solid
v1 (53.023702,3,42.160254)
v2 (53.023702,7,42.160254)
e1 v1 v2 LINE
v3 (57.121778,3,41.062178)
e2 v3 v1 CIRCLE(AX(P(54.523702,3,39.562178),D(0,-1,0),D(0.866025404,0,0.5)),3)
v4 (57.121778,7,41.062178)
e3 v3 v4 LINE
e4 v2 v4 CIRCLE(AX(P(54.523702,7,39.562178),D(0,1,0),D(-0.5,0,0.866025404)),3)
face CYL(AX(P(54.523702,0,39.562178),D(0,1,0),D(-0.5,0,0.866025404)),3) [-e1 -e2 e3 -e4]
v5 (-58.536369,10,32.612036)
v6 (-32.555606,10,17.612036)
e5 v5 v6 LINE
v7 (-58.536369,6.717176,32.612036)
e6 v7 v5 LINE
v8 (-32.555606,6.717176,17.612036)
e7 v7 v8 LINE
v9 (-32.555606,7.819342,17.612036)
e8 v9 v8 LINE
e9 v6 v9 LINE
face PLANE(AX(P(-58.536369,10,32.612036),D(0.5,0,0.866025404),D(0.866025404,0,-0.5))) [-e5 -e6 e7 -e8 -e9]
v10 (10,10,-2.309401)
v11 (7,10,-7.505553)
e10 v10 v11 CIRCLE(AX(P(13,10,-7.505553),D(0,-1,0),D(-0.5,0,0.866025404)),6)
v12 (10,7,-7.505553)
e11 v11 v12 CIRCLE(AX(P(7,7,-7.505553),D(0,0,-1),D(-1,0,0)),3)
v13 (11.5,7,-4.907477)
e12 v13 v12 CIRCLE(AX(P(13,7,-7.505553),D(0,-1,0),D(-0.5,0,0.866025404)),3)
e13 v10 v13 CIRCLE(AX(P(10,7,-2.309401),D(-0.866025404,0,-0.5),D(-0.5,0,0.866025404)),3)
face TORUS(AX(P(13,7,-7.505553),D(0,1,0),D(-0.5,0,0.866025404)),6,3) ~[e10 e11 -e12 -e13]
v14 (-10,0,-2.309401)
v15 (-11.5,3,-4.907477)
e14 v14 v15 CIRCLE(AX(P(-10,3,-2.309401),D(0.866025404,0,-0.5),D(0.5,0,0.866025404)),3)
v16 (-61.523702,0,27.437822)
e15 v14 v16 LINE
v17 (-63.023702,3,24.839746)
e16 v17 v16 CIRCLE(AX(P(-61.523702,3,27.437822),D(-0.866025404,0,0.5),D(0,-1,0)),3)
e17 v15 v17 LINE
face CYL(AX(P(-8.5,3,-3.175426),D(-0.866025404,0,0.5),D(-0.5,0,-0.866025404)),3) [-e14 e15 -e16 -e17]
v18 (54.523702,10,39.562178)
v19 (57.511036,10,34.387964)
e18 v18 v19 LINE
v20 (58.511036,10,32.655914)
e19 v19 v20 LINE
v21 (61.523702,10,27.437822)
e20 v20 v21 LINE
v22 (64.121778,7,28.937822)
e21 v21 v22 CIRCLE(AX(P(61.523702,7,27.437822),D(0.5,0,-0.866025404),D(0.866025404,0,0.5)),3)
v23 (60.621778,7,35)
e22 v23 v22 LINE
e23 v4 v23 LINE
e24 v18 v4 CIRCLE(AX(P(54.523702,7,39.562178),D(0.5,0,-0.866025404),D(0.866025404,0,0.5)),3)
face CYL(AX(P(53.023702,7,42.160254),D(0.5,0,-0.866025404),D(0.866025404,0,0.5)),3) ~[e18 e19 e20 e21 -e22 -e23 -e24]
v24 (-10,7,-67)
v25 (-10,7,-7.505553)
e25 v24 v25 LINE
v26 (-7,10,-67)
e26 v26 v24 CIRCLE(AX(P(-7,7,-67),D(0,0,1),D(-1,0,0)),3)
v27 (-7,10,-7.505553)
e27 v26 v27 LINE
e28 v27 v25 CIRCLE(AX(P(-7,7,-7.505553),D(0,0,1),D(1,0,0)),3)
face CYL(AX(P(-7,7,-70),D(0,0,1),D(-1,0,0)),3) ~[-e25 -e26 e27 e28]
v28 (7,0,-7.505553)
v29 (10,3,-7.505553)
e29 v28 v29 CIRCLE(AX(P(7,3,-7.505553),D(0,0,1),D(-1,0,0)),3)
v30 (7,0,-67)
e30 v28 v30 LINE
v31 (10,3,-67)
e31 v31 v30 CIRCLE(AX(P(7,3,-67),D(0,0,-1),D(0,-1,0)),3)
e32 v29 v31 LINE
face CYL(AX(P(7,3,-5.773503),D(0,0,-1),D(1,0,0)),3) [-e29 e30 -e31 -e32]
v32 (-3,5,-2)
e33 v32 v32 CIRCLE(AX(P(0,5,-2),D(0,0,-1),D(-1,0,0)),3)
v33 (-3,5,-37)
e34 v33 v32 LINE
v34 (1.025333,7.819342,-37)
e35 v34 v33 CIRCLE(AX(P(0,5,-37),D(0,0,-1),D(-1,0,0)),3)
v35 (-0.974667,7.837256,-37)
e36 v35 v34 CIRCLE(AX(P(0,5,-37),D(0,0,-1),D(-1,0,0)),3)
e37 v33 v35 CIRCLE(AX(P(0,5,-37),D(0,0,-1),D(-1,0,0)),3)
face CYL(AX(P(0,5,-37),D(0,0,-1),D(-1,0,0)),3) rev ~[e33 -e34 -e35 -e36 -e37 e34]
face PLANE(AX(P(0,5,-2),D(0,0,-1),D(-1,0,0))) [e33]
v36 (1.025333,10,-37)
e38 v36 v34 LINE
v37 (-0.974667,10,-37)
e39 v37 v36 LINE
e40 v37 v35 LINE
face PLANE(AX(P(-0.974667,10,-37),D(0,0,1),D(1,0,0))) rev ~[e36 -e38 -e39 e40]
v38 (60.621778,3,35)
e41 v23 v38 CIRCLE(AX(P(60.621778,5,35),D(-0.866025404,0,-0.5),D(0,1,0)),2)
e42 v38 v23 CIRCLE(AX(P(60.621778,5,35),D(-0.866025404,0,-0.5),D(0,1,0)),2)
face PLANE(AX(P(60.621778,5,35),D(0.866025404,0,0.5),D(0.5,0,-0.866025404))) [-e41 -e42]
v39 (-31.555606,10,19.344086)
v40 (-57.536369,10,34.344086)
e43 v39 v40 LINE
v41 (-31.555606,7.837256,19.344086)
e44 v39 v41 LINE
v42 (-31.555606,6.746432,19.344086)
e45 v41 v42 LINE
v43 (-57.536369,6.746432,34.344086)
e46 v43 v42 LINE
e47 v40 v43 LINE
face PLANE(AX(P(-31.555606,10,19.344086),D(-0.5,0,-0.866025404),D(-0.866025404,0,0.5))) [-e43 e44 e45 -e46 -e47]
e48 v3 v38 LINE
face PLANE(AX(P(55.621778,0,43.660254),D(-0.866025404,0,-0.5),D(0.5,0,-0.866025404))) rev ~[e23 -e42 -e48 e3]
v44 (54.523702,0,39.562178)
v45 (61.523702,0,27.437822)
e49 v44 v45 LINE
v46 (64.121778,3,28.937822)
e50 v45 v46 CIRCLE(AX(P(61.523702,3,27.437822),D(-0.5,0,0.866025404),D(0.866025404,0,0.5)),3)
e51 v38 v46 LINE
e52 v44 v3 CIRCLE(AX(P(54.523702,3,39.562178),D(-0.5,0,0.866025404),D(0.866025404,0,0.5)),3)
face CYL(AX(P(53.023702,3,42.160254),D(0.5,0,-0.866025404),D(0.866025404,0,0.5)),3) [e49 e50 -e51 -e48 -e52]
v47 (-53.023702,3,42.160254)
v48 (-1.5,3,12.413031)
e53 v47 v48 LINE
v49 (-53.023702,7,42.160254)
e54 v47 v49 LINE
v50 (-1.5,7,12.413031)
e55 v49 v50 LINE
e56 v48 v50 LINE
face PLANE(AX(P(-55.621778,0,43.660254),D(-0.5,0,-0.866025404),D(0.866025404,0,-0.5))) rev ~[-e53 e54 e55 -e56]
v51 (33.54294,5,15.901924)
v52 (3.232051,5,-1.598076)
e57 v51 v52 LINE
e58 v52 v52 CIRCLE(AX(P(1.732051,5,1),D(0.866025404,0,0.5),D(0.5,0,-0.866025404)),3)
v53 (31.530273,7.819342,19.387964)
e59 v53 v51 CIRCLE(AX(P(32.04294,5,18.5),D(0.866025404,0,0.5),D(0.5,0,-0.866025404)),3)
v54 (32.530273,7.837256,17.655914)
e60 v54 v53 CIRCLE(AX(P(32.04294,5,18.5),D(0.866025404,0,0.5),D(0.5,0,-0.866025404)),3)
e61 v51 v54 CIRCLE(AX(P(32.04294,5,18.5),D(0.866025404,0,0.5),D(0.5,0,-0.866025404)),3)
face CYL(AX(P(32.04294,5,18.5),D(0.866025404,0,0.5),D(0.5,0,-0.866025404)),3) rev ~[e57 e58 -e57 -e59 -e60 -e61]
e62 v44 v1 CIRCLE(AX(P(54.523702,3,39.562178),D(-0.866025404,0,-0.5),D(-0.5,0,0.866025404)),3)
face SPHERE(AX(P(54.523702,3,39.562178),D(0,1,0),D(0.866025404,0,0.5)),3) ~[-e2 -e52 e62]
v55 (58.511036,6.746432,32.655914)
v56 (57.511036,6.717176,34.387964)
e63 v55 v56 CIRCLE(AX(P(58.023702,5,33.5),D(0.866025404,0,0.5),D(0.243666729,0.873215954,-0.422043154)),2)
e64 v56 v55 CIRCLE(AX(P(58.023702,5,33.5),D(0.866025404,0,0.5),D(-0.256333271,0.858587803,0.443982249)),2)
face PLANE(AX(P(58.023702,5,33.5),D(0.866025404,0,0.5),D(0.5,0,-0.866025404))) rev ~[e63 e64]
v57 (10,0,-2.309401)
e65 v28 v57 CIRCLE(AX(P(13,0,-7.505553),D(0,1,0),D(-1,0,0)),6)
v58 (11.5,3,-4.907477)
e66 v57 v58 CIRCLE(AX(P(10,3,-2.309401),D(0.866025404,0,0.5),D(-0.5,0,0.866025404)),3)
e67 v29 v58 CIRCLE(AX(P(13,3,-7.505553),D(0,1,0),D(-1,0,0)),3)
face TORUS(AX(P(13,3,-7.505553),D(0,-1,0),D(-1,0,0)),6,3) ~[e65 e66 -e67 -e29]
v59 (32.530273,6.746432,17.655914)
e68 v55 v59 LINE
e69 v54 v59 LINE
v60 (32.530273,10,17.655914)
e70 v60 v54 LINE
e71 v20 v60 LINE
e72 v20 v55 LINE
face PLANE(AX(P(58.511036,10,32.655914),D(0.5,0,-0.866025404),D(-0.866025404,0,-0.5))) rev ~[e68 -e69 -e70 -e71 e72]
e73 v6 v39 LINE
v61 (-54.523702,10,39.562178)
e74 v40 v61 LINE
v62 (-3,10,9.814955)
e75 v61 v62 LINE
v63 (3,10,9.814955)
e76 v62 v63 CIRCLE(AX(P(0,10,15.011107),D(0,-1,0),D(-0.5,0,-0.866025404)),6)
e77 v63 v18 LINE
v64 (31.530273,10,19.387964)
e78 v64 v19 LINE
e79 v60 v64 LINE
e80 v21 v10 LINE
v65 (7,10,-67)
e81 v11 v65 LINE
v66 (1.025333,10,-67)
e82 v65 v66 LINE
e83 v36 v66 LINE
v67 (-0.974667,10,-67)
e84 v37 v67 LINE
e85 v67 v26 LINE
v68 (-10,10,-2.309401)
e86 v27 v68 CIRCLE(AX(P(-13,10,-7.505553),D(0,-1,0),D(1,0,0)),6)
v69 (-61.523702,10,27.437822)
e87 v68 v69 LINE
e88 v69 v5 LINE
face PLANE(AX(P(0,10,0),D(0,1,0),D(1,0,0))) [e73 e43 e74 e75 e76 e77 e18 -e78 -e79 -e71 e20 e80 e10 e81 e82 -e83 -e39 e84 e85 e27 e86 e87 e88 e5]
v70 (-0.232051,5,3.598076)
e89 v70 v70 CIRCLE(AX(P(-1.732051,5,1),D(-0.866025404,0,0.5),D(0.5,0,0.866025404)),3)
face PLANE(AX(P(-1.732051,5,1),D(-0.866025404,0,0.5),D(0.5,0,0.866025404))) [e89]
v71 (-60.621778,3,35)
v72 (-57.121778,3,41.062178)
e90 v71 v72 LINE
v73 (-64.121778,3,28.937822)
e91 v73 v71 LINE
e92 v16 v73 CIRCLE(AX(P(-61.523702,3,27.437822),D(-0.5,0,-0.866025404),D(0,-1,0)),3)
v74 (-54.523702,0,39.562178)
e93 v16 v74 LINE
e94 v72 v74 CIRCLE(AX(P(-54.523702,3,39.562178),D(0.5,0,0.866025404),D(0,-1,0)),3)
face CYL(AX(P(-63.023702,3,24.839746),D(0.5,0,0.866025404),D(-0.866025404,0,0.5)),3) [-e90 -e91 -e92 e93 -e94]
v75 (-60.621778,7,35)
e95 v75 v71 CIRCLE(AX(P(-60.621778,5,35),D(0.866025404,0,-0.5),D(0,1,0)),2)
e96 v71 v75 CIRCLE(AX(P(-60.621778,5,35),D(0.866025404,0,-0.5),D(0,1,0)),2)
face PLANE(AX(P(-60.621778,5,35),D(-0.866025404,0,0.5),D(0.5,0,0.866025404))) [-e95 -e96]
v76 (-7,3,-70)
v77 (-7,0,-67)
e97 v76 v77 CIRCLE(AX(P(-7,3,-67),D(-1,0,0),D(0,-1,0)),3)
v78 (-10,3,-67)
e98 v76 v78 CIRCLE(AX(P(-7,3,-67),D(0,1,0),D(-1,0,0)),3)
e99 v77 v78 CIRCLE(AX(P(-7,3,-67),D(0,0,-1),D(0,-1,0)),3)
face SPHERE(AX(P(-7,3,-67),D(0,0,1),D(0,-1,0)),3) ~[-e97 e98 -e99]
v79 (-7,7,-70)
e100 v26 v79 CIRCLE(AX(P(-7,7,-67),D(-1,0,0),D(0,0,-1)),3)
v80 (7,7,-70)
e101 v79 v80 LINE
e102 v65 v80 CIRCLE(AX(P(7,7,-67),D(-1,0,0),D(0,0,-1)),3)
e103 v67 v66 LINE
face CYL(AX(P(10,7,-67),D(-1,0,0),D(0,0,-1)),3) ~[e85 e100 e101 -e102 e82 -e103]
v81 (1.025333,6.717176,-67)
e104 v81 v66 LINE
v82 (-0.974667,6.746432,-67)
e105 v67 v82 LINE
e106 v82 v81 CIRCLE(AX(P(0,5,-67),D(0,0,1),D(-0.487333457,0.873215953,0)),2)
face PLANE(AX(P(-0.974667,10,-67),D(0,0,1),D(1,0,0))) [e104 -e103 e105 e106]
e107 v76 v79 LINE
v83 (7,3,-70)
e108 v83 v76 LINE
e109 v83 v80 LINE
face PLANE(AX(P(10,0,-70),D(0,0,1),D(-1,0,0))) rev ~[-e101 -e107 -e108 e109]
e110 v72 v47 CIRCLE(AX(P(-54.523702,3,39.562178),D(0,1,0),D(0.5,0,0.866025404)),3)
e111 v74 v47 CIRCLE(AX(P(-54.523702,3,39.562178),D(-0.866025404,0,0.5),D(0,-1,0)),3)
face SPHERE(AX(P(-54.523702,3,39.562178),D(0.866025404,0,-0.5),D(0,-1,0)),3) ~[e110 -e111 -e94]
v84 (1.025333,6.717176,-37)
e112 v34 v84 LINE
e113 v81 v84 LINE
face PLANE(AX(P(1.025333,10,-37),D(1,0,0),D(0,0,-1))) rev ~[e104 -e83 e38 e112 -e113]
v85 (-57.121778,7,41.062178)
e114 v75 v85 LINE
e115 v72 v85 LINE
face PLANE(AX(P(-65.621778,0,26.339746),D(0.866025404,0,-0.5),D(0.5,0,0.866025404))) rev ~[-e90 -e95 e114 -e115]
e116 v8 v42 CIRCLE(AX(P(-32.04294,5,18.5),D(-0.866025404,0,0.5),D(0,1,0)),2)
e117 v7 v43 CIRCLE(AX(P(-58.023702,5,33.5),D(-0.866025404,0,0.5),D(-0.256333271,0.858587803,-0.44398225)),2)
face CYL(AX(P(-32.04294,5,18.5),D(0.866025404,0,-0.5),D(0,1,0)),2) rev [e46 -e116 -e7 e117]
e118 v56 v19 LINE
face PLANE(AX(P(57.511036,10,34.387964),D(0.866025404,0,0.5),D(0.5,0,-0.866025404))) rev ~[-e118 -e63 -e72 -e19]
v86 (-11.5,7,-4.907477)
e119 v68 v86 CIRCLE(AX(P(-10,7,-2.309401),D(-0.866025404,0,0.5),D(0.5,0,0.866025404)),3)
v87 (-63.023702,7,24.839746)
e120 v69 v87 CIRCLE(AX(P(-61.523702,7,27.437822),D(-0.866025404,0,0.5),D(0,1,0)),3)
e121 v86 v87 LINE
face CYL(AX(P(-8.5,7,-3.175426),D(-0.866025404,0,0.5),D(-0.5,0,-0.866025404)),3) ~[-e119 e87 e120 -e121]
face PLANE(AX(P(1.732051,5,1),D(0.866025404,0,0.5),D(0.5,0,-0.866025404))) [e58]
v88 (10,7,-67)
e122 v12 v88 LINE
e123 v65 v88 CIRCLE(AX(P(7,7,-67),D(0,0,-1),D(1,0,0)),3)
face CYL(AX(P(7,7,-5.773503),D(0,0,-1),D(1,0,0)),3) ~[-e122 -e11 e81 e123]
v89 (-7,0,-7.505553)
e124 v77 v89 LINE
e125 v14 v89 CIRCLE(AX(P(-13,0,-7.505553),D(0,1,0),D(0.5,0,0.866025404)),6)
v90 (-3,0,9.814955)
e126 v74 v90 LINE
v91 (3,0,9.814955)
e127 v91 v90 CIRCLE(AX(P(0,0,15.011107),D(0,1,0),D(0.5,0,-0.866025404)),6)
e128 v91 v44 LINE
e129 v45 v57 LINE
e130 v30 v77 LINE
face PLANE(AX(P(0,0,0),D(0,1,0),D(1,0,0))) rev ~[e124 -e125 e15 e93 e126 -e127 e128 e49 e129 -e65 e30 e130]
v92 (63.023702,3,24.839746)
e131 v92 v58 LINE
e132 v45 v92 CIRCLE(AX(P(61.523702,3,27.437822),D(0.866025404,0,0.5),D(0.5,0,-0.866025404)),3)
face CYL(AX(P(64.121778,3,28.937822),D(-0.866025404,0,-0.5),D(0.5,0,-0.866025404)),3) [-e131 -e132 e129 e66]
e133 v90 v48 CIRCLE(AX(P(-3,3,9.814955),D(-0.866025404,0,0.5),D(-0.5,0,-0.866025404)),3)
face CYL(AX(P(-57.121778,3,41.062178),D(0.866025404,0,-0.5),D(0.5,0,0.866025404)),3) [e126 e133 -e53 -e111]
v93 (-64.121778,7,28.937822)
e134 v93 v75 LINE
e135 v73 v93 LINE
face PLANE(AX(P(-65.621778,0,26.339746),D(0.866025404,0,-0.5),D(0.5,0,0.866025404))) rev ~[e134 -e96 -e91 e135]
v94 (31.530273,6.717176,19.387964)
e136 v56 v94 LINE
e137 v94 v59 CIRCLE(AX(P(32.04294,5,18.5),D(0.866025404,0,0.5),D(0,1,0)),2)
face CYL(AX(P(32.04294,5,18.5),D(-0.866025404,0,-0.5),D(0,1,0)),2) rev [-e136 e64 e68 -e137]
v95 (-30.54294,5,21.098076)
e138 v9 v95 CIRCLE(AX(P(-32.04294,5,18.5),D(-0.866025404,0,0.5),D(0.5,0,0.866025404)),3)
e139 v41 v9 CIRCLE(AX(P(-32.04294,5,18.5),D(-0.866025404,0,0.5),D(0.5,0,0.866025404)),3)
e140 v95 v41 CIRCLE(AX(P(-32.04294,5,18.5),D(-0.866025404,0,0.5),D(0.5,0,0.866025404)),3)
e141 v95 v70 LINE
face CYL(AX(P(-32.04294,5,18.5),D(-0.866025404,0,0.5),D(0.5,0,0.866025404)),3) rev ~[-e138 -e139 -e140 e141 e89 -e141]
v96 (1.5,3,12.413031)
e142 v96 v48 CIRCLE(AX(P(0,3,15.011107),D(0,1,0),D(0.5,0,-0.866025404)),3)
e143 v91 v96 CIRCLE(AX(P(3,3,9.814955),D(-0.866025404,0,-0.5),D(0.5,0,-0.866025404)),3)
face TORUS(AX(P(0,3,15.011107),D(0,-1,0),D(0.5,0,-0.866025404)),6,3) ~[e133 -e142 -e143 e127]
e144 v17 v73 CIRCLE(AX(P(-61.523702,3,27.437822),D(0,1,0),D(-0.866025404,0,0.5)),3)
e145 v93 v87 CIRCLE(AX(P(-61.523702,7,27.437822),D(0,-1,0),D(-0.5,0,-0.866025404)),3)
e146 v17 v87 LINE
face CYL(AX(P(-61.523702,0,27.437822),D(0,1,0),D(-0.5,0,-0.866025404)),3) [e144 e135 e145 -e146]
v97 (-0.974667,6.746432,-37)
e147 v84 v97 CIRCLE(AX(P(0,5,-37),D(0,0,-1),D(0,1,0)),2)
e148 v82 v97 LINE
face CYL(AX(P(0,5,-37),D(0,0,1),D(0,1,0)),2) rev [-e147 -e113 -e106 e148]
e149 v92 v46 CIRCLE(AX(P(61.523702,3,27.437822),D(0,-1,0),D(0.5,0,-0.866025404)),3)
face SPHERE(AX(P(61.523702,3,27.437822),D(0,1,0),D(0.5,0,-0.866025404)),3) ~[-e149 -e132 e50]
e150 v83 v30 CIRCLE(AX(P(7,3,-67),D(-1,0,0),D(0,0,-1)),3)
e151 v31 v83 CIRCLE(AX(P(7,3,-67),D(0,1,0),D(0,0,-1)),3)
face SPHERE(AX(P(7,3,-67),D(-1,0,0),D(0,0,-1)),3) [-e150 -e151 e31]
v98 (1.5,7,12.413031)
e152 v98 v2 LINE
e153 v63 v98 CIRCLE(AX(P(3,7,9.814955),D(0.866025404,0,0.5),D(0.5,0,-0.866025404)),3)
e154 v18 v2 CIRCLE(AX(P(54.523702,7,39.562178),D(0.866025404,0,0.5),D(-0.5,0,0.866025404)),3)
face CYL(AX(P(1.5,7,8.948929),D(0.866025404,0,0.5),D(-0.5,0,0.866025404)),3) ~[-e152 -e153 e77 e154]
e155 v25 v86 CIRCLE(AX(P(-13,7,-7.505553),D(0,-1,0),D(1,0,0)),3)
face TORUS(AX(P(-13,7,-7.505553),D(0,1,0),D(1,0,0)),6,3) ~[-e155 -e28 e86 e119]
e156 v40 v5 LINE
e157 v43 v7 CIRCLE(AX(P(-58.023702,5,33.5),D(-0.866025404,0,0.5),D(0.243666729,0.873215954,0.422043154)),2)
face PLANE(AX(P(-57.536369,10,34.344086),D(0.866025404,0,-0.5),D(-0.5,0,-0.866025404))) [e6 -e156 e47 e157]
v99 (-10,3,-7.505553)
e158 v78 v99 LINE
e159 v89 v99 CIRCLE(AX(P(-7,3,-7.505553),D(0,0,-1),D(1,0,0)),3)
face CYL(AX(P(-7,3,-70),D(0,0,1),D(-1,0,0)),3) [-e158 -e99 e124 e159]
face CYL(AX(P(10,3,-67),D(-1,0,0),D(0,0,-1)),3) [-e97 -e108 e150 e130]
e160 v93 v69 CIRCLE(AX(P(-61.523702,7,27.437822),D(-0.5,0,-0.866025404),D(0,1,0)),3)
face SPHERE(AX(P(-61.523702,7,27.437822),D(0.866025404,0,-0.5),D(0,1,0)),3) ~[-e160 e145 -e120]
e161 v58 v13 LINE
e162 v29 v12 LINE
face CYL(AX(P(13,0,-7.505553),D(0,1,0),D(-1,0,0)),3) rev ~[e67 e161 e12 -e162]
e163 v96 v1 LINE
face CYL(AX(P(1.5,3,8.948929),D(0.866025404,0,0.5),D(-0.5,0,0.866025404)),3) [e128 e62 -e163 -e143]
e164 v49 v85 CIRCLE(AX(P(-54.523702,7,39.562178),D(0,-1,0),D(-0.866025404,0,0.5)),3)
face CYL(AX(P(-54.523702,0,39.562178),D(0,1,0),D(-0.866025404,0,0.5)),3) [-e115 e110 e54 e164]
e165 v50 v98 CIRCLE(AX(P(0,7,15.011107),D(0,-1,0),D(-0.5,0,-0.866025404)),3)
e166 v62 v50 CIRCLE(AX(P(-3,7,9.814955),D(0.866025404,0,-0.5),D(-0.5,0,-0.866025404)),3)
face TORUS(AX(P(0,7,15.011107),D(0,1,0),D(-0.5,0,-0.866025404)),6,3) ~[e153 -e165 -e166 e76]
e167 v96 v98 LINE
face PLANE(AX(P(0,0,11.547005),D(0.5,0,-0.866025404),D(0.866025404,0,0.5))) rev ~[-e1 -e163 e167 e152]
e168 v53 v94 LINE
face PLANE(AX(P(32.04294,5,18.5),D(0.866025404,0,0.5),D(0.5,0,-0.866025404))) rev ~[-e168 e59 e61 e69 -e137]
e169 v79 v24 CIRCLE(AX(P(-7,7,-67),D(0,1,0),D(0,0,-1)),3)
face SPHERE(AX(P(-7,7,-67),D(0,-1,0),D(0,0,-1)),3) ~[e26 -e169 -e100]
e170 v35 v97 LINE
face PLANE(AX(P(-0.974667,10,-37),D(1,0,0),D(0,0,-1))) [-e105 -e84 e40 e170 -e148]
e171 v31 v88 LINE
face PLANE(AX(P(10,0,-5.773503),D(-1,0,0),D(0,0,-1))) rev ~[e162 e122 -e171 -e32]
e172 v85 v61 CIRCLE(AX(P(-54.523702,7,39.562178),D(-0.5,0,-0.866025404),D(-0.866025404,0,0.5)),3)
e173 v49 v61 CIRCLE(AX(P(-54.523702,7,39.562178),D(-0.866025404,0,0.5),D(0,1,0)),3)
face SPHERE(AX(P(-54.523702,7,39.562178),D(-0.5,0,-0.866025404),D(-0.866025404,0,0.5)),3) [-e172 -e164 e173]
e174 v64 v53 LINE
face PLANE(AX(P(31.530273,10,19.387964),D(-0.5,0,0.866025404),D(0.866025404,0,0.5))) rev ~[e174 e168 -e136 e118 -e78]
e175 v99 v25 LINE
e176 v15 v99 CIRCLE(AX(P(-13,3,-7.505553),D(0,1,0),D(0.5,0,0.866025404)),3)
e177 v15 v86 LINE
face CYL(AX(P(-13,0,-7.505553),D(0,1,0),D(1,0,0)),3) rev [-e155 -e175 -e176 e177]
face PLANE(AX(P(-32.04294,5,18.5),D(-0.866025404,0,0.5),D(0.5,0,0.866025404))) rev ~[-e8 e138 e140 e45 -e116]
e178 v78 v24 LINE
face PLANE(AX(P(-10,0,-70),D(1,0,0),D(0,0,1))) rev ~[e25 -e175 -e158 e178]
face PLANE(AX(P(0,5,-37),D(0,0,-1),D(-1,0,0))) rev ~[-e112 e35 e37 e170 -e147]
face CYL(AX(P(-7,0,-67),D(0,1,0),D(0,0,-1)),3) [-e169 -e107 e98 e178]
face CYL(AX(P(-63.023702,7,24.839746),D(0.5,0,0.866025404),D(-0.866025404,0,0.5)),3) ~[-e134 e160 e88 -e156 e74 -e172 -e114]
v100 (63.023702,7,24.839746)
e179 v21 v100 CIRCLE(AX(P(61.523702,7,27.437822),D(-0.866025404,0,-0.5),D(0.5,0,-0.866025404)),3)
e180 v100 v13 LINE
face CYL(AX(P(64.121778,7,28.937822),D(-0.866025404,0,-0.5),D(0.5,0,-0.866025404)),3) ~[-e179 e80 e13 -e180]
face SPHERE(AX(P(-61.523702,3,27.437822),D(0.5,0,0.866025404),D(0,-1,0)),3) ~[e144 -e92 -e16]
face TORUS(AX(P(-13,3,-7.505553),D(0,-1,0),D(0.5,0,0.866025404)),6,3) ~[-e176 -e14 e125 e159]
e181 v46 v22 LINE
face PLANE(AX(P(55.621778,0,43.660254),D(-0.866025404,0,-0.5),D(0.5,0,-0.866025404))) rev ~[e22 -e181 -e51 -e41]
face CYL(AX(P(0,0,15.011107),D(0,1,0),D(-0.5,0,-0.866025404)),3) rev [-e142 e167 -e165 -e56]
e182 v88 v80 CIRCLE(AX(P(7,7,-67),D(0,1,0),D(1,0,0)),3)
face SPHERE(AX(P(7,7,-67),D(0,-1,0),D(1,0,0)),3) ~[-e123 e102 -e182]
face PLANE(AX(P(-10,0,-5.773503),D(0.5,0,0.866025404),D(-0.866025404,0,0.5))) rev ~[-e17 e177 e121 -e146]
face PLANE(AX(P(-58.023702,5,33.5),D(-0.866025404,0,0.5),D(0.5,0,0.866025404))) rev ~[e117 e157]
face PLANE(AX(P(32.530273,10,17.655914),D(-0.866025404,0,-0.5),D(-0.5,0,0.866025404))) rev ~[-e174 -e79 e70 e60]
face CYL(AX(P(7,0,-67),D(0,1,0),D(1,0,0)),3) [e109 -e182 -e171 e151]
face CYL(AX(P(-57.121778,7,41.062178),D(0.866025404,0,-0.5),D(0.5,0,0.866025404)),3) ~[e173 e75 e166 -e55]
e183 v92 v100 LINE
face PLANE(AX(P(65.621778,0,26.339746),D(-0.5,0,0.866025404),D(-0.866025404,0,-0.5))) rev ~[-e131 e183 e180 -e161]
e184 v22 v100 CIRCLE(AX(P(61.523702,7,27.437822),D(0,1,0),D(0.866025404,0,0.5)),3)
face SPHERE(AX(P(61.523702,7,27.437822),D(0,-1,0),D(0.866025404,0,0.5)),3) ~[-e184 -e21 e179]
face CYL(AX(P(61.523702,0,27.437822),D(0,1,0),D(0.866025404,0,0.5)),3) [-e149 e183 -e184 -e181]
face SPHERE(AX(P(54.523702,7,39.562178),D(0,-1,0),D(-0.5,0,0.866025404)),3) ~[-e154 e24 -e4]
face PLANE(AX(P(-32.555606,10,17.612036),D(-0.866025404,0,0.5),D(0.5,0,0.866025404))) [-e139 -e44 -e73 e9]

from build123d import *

# Parameters (mm, degrees)
BOSS_EXTRUDE1_DEPTH = 10
FILLET3_R           = 3
CUT_EXTRUDE8_START  = -33
SKETCH8_R           = 2
CUT_EXTRUDE8_DEPTH  = 197.665485806
SKETCH11_R          = 3
CUT_EXTRUDE9_DEPTH  = 35
SKETCH7_W           = 2
SKETCH7_H           = 30
CUT_EXTRUDE10_DEPTH = 5
CUT_EXTRUDE11_DEPTH = 5
CUT_EXTRUDE12_DEPTH = 5
CIRPATTERN8_COUNT   = 3
SKETCH17_W          = 14
SKETCH17_H          = 4
BOSS_EXTRUDE3_DEPTH = 3
CIRPATTERN9_COUNT   = 3


with BuildPart() as part:
    # Sketch2 → Boss-Extrude1 (new body)
    with BuildSketch(Plane(origin=(0, 0, 0), x_dir=(1, 0, 0), z_dir=(0, 1, 0))):
        Polygon((10, 5.773502692), (10, 70), (-10, 70), (-10, 5.773502692), (-65.621778265, -26.339745962), (-55.621778265, -43.660254038), (0, -11.547005384), (55.621778265, -43.660254038), (65.621778265, -26.339745962), align=None)
    extrude(amount=BOSS_EXTRUDE1_DEPTH)

    # Fillet3
    fillet3_edges = [part.edges().sort_by_distance(p)[0] for p in [
        (-10, 5, -70),
        (10, 5, -70),
        (65.621778265, 5, 26.339745962),
        (55.621778265, 5, 43.660254038),
        (-65.621778265, 5, 26.339745962),
        (-55.621778265, 5, 43.660254038),
        (10, 10, -37.886751346),
        (10, 5, -5.773502692),
        (37.810889132, 0, 10.283121635),
        (10, 0, -37.886751346),
        (60.621778265, 0, 35),
        (60.621778265, 10, 35),
        (27.810889132, 0, 27.603629711),
        (0, 5, 11.547005384),
        (-27.810889132, 0, 27.603629711),
        (-10, 5, -5.773502692),
        (-37.810889132, 0, 10.283121635),
        (-10, 0, -37.886751346),
        (-60.621778265, 10, 35),
        (-60.621778265, 0, 35),
        (0, 0, -70),
        (0, 10, -70),
        (37.810889132, 10, 10.283121635),
        (27.810889132, 10, 27.603629711),
        (-27.810889132, 10, 27.603629711),
        (-37.810889132, 10, 10.283121635),
        (-10, 10, -37.886751346),
    ]]
    fillet(fillet3_edges, radius=FILLET3_R)

    # Sketch8 → Cut-Extrude8 (cut)
    with BuildSketch(Plane(origin=(60.621778265, 0, 35), x_dir=(0.49999999999999983, 0, -0.8660254037844388), z_dir=(0.8660254037844387, 0, 0.4999999999999998)).offset(CUT_EXTRUDE8_START)):
        with Locations((0, 5)):
            Circle(SKETCH8_R)
    cut_extrude8 = extrude(amount=CUT_EXTRUDE8_DEPTH, mode=Mode.SUBTRACT)

    # Sketch11 → Cut-Extrude9 (cut)
    with BuildSketch(Plane(origin=(32.04293994, 0, 18.5), x_dir=(0.49999999999999994, 0, -0.8660254037844387), z_dir=(0.8660254037844386, 0, 0.4999999999999999))):
        with Locations((0, 5)):
            Circle(SKETCH11_R)
    cut_extrude9 = extrude(amount=-CUT_EXTRUDE9_DEPTH, mode=Mode.SUBTRACT)

    # Sketch7 → Cut-Extrude10 (cut)
    with BuildSketch(Plane(origin=(0, 10, 0), x_dir=(1, 0, 0), z_dir=(0, 1, 0))):
        with Locations((0.025333085, 52)):
            Rectangle(SKETCH7_W, SKETCH7_H)
    extrude(amount=-CUT_EXTRUDE10_DEPTH, mode=Mode.SUBTRACT)

    # Sketch7<7> → Cut-Extrude11 (cut)
    with BuildSketch(Plane(origin=(0, 10, 0), x_dir=(1, 0, 0), z_dir=(0, 1, 0))):
        Polygon((-32.555606483, -17.612035501), (-58.536368596, -32.612035501), (-57.536368596, -34.344086308), (-31.555606483, -19.344086308), align=None)
    extrude(amount=-CUT_EXTRUDE11_DEPTH, mode=Mode.SUBTRACT)

    # Sketch7<8> → Cut-Extrude12 (cut)
    with BuildSketch(Plane(origin=(0, 10, 0), x_dir=(1, 0, 0), z_dir=(0, 1, 0))):
        Polygon((31.530273397, -19.387964499), (57.511035511, -34.387964499), (58.511035511, -32.655913692), (32.530273397, -17.655913692), align=None)
    extrude(amount=-CUT_EXTRUDE12_DEPTH, mode=Mode.SUBTRACT)

    # CirPattern8: Cut-Extrude8, Cut-Extrude9 ×3 about axis
    cirpattern8_axis = Axis((0, 10, 0), (0, 1, 0))
    add([cut_extrude8.rotate(cirpattern8_axis, i * 360 / CIRPATTERN8_COUNT) for i in range(1, CIRPATTERN8_COUNT)], mode=Mode.SUBTRACT)
    add([cut_extrude9.rotate(cirpattern8_axis, i * 360 / CIRPATTERN8_COUNT) for i in range(1, CIRPATTERN8_COUNT)], mode=Mode.SUBTRACT)

    # Sketch17 → Boss-Extrude3 (add)
    with BuildSketch(Plane(origin=(60.621778265, 0, 35), x_dir=(0.49999999999999983, 0, -0.8660254037844388), z_dir=(0.8660254037844387, 0, 0.4999999999999998))):
        with Locations((0, 5)):
            Rectangle(SKETCH17_W, SKETCH17_H)
    boss_extrude3 = extrude(amount=-BOSS_EXTRUDE3_DEPTH)

    # CirPattern9: Boss-Extrude3 ×3 about axis
    cirpattern9_axis = Axis((0, 10, 0), (0, 1, 0))
    for i in range(1, CIRPATTERN9_COUNT):
        add(boss_extrude3.rotate(cirpattern9_axis, i * 360 / CIRPATTERN9_COUNT))


solid = part.part
